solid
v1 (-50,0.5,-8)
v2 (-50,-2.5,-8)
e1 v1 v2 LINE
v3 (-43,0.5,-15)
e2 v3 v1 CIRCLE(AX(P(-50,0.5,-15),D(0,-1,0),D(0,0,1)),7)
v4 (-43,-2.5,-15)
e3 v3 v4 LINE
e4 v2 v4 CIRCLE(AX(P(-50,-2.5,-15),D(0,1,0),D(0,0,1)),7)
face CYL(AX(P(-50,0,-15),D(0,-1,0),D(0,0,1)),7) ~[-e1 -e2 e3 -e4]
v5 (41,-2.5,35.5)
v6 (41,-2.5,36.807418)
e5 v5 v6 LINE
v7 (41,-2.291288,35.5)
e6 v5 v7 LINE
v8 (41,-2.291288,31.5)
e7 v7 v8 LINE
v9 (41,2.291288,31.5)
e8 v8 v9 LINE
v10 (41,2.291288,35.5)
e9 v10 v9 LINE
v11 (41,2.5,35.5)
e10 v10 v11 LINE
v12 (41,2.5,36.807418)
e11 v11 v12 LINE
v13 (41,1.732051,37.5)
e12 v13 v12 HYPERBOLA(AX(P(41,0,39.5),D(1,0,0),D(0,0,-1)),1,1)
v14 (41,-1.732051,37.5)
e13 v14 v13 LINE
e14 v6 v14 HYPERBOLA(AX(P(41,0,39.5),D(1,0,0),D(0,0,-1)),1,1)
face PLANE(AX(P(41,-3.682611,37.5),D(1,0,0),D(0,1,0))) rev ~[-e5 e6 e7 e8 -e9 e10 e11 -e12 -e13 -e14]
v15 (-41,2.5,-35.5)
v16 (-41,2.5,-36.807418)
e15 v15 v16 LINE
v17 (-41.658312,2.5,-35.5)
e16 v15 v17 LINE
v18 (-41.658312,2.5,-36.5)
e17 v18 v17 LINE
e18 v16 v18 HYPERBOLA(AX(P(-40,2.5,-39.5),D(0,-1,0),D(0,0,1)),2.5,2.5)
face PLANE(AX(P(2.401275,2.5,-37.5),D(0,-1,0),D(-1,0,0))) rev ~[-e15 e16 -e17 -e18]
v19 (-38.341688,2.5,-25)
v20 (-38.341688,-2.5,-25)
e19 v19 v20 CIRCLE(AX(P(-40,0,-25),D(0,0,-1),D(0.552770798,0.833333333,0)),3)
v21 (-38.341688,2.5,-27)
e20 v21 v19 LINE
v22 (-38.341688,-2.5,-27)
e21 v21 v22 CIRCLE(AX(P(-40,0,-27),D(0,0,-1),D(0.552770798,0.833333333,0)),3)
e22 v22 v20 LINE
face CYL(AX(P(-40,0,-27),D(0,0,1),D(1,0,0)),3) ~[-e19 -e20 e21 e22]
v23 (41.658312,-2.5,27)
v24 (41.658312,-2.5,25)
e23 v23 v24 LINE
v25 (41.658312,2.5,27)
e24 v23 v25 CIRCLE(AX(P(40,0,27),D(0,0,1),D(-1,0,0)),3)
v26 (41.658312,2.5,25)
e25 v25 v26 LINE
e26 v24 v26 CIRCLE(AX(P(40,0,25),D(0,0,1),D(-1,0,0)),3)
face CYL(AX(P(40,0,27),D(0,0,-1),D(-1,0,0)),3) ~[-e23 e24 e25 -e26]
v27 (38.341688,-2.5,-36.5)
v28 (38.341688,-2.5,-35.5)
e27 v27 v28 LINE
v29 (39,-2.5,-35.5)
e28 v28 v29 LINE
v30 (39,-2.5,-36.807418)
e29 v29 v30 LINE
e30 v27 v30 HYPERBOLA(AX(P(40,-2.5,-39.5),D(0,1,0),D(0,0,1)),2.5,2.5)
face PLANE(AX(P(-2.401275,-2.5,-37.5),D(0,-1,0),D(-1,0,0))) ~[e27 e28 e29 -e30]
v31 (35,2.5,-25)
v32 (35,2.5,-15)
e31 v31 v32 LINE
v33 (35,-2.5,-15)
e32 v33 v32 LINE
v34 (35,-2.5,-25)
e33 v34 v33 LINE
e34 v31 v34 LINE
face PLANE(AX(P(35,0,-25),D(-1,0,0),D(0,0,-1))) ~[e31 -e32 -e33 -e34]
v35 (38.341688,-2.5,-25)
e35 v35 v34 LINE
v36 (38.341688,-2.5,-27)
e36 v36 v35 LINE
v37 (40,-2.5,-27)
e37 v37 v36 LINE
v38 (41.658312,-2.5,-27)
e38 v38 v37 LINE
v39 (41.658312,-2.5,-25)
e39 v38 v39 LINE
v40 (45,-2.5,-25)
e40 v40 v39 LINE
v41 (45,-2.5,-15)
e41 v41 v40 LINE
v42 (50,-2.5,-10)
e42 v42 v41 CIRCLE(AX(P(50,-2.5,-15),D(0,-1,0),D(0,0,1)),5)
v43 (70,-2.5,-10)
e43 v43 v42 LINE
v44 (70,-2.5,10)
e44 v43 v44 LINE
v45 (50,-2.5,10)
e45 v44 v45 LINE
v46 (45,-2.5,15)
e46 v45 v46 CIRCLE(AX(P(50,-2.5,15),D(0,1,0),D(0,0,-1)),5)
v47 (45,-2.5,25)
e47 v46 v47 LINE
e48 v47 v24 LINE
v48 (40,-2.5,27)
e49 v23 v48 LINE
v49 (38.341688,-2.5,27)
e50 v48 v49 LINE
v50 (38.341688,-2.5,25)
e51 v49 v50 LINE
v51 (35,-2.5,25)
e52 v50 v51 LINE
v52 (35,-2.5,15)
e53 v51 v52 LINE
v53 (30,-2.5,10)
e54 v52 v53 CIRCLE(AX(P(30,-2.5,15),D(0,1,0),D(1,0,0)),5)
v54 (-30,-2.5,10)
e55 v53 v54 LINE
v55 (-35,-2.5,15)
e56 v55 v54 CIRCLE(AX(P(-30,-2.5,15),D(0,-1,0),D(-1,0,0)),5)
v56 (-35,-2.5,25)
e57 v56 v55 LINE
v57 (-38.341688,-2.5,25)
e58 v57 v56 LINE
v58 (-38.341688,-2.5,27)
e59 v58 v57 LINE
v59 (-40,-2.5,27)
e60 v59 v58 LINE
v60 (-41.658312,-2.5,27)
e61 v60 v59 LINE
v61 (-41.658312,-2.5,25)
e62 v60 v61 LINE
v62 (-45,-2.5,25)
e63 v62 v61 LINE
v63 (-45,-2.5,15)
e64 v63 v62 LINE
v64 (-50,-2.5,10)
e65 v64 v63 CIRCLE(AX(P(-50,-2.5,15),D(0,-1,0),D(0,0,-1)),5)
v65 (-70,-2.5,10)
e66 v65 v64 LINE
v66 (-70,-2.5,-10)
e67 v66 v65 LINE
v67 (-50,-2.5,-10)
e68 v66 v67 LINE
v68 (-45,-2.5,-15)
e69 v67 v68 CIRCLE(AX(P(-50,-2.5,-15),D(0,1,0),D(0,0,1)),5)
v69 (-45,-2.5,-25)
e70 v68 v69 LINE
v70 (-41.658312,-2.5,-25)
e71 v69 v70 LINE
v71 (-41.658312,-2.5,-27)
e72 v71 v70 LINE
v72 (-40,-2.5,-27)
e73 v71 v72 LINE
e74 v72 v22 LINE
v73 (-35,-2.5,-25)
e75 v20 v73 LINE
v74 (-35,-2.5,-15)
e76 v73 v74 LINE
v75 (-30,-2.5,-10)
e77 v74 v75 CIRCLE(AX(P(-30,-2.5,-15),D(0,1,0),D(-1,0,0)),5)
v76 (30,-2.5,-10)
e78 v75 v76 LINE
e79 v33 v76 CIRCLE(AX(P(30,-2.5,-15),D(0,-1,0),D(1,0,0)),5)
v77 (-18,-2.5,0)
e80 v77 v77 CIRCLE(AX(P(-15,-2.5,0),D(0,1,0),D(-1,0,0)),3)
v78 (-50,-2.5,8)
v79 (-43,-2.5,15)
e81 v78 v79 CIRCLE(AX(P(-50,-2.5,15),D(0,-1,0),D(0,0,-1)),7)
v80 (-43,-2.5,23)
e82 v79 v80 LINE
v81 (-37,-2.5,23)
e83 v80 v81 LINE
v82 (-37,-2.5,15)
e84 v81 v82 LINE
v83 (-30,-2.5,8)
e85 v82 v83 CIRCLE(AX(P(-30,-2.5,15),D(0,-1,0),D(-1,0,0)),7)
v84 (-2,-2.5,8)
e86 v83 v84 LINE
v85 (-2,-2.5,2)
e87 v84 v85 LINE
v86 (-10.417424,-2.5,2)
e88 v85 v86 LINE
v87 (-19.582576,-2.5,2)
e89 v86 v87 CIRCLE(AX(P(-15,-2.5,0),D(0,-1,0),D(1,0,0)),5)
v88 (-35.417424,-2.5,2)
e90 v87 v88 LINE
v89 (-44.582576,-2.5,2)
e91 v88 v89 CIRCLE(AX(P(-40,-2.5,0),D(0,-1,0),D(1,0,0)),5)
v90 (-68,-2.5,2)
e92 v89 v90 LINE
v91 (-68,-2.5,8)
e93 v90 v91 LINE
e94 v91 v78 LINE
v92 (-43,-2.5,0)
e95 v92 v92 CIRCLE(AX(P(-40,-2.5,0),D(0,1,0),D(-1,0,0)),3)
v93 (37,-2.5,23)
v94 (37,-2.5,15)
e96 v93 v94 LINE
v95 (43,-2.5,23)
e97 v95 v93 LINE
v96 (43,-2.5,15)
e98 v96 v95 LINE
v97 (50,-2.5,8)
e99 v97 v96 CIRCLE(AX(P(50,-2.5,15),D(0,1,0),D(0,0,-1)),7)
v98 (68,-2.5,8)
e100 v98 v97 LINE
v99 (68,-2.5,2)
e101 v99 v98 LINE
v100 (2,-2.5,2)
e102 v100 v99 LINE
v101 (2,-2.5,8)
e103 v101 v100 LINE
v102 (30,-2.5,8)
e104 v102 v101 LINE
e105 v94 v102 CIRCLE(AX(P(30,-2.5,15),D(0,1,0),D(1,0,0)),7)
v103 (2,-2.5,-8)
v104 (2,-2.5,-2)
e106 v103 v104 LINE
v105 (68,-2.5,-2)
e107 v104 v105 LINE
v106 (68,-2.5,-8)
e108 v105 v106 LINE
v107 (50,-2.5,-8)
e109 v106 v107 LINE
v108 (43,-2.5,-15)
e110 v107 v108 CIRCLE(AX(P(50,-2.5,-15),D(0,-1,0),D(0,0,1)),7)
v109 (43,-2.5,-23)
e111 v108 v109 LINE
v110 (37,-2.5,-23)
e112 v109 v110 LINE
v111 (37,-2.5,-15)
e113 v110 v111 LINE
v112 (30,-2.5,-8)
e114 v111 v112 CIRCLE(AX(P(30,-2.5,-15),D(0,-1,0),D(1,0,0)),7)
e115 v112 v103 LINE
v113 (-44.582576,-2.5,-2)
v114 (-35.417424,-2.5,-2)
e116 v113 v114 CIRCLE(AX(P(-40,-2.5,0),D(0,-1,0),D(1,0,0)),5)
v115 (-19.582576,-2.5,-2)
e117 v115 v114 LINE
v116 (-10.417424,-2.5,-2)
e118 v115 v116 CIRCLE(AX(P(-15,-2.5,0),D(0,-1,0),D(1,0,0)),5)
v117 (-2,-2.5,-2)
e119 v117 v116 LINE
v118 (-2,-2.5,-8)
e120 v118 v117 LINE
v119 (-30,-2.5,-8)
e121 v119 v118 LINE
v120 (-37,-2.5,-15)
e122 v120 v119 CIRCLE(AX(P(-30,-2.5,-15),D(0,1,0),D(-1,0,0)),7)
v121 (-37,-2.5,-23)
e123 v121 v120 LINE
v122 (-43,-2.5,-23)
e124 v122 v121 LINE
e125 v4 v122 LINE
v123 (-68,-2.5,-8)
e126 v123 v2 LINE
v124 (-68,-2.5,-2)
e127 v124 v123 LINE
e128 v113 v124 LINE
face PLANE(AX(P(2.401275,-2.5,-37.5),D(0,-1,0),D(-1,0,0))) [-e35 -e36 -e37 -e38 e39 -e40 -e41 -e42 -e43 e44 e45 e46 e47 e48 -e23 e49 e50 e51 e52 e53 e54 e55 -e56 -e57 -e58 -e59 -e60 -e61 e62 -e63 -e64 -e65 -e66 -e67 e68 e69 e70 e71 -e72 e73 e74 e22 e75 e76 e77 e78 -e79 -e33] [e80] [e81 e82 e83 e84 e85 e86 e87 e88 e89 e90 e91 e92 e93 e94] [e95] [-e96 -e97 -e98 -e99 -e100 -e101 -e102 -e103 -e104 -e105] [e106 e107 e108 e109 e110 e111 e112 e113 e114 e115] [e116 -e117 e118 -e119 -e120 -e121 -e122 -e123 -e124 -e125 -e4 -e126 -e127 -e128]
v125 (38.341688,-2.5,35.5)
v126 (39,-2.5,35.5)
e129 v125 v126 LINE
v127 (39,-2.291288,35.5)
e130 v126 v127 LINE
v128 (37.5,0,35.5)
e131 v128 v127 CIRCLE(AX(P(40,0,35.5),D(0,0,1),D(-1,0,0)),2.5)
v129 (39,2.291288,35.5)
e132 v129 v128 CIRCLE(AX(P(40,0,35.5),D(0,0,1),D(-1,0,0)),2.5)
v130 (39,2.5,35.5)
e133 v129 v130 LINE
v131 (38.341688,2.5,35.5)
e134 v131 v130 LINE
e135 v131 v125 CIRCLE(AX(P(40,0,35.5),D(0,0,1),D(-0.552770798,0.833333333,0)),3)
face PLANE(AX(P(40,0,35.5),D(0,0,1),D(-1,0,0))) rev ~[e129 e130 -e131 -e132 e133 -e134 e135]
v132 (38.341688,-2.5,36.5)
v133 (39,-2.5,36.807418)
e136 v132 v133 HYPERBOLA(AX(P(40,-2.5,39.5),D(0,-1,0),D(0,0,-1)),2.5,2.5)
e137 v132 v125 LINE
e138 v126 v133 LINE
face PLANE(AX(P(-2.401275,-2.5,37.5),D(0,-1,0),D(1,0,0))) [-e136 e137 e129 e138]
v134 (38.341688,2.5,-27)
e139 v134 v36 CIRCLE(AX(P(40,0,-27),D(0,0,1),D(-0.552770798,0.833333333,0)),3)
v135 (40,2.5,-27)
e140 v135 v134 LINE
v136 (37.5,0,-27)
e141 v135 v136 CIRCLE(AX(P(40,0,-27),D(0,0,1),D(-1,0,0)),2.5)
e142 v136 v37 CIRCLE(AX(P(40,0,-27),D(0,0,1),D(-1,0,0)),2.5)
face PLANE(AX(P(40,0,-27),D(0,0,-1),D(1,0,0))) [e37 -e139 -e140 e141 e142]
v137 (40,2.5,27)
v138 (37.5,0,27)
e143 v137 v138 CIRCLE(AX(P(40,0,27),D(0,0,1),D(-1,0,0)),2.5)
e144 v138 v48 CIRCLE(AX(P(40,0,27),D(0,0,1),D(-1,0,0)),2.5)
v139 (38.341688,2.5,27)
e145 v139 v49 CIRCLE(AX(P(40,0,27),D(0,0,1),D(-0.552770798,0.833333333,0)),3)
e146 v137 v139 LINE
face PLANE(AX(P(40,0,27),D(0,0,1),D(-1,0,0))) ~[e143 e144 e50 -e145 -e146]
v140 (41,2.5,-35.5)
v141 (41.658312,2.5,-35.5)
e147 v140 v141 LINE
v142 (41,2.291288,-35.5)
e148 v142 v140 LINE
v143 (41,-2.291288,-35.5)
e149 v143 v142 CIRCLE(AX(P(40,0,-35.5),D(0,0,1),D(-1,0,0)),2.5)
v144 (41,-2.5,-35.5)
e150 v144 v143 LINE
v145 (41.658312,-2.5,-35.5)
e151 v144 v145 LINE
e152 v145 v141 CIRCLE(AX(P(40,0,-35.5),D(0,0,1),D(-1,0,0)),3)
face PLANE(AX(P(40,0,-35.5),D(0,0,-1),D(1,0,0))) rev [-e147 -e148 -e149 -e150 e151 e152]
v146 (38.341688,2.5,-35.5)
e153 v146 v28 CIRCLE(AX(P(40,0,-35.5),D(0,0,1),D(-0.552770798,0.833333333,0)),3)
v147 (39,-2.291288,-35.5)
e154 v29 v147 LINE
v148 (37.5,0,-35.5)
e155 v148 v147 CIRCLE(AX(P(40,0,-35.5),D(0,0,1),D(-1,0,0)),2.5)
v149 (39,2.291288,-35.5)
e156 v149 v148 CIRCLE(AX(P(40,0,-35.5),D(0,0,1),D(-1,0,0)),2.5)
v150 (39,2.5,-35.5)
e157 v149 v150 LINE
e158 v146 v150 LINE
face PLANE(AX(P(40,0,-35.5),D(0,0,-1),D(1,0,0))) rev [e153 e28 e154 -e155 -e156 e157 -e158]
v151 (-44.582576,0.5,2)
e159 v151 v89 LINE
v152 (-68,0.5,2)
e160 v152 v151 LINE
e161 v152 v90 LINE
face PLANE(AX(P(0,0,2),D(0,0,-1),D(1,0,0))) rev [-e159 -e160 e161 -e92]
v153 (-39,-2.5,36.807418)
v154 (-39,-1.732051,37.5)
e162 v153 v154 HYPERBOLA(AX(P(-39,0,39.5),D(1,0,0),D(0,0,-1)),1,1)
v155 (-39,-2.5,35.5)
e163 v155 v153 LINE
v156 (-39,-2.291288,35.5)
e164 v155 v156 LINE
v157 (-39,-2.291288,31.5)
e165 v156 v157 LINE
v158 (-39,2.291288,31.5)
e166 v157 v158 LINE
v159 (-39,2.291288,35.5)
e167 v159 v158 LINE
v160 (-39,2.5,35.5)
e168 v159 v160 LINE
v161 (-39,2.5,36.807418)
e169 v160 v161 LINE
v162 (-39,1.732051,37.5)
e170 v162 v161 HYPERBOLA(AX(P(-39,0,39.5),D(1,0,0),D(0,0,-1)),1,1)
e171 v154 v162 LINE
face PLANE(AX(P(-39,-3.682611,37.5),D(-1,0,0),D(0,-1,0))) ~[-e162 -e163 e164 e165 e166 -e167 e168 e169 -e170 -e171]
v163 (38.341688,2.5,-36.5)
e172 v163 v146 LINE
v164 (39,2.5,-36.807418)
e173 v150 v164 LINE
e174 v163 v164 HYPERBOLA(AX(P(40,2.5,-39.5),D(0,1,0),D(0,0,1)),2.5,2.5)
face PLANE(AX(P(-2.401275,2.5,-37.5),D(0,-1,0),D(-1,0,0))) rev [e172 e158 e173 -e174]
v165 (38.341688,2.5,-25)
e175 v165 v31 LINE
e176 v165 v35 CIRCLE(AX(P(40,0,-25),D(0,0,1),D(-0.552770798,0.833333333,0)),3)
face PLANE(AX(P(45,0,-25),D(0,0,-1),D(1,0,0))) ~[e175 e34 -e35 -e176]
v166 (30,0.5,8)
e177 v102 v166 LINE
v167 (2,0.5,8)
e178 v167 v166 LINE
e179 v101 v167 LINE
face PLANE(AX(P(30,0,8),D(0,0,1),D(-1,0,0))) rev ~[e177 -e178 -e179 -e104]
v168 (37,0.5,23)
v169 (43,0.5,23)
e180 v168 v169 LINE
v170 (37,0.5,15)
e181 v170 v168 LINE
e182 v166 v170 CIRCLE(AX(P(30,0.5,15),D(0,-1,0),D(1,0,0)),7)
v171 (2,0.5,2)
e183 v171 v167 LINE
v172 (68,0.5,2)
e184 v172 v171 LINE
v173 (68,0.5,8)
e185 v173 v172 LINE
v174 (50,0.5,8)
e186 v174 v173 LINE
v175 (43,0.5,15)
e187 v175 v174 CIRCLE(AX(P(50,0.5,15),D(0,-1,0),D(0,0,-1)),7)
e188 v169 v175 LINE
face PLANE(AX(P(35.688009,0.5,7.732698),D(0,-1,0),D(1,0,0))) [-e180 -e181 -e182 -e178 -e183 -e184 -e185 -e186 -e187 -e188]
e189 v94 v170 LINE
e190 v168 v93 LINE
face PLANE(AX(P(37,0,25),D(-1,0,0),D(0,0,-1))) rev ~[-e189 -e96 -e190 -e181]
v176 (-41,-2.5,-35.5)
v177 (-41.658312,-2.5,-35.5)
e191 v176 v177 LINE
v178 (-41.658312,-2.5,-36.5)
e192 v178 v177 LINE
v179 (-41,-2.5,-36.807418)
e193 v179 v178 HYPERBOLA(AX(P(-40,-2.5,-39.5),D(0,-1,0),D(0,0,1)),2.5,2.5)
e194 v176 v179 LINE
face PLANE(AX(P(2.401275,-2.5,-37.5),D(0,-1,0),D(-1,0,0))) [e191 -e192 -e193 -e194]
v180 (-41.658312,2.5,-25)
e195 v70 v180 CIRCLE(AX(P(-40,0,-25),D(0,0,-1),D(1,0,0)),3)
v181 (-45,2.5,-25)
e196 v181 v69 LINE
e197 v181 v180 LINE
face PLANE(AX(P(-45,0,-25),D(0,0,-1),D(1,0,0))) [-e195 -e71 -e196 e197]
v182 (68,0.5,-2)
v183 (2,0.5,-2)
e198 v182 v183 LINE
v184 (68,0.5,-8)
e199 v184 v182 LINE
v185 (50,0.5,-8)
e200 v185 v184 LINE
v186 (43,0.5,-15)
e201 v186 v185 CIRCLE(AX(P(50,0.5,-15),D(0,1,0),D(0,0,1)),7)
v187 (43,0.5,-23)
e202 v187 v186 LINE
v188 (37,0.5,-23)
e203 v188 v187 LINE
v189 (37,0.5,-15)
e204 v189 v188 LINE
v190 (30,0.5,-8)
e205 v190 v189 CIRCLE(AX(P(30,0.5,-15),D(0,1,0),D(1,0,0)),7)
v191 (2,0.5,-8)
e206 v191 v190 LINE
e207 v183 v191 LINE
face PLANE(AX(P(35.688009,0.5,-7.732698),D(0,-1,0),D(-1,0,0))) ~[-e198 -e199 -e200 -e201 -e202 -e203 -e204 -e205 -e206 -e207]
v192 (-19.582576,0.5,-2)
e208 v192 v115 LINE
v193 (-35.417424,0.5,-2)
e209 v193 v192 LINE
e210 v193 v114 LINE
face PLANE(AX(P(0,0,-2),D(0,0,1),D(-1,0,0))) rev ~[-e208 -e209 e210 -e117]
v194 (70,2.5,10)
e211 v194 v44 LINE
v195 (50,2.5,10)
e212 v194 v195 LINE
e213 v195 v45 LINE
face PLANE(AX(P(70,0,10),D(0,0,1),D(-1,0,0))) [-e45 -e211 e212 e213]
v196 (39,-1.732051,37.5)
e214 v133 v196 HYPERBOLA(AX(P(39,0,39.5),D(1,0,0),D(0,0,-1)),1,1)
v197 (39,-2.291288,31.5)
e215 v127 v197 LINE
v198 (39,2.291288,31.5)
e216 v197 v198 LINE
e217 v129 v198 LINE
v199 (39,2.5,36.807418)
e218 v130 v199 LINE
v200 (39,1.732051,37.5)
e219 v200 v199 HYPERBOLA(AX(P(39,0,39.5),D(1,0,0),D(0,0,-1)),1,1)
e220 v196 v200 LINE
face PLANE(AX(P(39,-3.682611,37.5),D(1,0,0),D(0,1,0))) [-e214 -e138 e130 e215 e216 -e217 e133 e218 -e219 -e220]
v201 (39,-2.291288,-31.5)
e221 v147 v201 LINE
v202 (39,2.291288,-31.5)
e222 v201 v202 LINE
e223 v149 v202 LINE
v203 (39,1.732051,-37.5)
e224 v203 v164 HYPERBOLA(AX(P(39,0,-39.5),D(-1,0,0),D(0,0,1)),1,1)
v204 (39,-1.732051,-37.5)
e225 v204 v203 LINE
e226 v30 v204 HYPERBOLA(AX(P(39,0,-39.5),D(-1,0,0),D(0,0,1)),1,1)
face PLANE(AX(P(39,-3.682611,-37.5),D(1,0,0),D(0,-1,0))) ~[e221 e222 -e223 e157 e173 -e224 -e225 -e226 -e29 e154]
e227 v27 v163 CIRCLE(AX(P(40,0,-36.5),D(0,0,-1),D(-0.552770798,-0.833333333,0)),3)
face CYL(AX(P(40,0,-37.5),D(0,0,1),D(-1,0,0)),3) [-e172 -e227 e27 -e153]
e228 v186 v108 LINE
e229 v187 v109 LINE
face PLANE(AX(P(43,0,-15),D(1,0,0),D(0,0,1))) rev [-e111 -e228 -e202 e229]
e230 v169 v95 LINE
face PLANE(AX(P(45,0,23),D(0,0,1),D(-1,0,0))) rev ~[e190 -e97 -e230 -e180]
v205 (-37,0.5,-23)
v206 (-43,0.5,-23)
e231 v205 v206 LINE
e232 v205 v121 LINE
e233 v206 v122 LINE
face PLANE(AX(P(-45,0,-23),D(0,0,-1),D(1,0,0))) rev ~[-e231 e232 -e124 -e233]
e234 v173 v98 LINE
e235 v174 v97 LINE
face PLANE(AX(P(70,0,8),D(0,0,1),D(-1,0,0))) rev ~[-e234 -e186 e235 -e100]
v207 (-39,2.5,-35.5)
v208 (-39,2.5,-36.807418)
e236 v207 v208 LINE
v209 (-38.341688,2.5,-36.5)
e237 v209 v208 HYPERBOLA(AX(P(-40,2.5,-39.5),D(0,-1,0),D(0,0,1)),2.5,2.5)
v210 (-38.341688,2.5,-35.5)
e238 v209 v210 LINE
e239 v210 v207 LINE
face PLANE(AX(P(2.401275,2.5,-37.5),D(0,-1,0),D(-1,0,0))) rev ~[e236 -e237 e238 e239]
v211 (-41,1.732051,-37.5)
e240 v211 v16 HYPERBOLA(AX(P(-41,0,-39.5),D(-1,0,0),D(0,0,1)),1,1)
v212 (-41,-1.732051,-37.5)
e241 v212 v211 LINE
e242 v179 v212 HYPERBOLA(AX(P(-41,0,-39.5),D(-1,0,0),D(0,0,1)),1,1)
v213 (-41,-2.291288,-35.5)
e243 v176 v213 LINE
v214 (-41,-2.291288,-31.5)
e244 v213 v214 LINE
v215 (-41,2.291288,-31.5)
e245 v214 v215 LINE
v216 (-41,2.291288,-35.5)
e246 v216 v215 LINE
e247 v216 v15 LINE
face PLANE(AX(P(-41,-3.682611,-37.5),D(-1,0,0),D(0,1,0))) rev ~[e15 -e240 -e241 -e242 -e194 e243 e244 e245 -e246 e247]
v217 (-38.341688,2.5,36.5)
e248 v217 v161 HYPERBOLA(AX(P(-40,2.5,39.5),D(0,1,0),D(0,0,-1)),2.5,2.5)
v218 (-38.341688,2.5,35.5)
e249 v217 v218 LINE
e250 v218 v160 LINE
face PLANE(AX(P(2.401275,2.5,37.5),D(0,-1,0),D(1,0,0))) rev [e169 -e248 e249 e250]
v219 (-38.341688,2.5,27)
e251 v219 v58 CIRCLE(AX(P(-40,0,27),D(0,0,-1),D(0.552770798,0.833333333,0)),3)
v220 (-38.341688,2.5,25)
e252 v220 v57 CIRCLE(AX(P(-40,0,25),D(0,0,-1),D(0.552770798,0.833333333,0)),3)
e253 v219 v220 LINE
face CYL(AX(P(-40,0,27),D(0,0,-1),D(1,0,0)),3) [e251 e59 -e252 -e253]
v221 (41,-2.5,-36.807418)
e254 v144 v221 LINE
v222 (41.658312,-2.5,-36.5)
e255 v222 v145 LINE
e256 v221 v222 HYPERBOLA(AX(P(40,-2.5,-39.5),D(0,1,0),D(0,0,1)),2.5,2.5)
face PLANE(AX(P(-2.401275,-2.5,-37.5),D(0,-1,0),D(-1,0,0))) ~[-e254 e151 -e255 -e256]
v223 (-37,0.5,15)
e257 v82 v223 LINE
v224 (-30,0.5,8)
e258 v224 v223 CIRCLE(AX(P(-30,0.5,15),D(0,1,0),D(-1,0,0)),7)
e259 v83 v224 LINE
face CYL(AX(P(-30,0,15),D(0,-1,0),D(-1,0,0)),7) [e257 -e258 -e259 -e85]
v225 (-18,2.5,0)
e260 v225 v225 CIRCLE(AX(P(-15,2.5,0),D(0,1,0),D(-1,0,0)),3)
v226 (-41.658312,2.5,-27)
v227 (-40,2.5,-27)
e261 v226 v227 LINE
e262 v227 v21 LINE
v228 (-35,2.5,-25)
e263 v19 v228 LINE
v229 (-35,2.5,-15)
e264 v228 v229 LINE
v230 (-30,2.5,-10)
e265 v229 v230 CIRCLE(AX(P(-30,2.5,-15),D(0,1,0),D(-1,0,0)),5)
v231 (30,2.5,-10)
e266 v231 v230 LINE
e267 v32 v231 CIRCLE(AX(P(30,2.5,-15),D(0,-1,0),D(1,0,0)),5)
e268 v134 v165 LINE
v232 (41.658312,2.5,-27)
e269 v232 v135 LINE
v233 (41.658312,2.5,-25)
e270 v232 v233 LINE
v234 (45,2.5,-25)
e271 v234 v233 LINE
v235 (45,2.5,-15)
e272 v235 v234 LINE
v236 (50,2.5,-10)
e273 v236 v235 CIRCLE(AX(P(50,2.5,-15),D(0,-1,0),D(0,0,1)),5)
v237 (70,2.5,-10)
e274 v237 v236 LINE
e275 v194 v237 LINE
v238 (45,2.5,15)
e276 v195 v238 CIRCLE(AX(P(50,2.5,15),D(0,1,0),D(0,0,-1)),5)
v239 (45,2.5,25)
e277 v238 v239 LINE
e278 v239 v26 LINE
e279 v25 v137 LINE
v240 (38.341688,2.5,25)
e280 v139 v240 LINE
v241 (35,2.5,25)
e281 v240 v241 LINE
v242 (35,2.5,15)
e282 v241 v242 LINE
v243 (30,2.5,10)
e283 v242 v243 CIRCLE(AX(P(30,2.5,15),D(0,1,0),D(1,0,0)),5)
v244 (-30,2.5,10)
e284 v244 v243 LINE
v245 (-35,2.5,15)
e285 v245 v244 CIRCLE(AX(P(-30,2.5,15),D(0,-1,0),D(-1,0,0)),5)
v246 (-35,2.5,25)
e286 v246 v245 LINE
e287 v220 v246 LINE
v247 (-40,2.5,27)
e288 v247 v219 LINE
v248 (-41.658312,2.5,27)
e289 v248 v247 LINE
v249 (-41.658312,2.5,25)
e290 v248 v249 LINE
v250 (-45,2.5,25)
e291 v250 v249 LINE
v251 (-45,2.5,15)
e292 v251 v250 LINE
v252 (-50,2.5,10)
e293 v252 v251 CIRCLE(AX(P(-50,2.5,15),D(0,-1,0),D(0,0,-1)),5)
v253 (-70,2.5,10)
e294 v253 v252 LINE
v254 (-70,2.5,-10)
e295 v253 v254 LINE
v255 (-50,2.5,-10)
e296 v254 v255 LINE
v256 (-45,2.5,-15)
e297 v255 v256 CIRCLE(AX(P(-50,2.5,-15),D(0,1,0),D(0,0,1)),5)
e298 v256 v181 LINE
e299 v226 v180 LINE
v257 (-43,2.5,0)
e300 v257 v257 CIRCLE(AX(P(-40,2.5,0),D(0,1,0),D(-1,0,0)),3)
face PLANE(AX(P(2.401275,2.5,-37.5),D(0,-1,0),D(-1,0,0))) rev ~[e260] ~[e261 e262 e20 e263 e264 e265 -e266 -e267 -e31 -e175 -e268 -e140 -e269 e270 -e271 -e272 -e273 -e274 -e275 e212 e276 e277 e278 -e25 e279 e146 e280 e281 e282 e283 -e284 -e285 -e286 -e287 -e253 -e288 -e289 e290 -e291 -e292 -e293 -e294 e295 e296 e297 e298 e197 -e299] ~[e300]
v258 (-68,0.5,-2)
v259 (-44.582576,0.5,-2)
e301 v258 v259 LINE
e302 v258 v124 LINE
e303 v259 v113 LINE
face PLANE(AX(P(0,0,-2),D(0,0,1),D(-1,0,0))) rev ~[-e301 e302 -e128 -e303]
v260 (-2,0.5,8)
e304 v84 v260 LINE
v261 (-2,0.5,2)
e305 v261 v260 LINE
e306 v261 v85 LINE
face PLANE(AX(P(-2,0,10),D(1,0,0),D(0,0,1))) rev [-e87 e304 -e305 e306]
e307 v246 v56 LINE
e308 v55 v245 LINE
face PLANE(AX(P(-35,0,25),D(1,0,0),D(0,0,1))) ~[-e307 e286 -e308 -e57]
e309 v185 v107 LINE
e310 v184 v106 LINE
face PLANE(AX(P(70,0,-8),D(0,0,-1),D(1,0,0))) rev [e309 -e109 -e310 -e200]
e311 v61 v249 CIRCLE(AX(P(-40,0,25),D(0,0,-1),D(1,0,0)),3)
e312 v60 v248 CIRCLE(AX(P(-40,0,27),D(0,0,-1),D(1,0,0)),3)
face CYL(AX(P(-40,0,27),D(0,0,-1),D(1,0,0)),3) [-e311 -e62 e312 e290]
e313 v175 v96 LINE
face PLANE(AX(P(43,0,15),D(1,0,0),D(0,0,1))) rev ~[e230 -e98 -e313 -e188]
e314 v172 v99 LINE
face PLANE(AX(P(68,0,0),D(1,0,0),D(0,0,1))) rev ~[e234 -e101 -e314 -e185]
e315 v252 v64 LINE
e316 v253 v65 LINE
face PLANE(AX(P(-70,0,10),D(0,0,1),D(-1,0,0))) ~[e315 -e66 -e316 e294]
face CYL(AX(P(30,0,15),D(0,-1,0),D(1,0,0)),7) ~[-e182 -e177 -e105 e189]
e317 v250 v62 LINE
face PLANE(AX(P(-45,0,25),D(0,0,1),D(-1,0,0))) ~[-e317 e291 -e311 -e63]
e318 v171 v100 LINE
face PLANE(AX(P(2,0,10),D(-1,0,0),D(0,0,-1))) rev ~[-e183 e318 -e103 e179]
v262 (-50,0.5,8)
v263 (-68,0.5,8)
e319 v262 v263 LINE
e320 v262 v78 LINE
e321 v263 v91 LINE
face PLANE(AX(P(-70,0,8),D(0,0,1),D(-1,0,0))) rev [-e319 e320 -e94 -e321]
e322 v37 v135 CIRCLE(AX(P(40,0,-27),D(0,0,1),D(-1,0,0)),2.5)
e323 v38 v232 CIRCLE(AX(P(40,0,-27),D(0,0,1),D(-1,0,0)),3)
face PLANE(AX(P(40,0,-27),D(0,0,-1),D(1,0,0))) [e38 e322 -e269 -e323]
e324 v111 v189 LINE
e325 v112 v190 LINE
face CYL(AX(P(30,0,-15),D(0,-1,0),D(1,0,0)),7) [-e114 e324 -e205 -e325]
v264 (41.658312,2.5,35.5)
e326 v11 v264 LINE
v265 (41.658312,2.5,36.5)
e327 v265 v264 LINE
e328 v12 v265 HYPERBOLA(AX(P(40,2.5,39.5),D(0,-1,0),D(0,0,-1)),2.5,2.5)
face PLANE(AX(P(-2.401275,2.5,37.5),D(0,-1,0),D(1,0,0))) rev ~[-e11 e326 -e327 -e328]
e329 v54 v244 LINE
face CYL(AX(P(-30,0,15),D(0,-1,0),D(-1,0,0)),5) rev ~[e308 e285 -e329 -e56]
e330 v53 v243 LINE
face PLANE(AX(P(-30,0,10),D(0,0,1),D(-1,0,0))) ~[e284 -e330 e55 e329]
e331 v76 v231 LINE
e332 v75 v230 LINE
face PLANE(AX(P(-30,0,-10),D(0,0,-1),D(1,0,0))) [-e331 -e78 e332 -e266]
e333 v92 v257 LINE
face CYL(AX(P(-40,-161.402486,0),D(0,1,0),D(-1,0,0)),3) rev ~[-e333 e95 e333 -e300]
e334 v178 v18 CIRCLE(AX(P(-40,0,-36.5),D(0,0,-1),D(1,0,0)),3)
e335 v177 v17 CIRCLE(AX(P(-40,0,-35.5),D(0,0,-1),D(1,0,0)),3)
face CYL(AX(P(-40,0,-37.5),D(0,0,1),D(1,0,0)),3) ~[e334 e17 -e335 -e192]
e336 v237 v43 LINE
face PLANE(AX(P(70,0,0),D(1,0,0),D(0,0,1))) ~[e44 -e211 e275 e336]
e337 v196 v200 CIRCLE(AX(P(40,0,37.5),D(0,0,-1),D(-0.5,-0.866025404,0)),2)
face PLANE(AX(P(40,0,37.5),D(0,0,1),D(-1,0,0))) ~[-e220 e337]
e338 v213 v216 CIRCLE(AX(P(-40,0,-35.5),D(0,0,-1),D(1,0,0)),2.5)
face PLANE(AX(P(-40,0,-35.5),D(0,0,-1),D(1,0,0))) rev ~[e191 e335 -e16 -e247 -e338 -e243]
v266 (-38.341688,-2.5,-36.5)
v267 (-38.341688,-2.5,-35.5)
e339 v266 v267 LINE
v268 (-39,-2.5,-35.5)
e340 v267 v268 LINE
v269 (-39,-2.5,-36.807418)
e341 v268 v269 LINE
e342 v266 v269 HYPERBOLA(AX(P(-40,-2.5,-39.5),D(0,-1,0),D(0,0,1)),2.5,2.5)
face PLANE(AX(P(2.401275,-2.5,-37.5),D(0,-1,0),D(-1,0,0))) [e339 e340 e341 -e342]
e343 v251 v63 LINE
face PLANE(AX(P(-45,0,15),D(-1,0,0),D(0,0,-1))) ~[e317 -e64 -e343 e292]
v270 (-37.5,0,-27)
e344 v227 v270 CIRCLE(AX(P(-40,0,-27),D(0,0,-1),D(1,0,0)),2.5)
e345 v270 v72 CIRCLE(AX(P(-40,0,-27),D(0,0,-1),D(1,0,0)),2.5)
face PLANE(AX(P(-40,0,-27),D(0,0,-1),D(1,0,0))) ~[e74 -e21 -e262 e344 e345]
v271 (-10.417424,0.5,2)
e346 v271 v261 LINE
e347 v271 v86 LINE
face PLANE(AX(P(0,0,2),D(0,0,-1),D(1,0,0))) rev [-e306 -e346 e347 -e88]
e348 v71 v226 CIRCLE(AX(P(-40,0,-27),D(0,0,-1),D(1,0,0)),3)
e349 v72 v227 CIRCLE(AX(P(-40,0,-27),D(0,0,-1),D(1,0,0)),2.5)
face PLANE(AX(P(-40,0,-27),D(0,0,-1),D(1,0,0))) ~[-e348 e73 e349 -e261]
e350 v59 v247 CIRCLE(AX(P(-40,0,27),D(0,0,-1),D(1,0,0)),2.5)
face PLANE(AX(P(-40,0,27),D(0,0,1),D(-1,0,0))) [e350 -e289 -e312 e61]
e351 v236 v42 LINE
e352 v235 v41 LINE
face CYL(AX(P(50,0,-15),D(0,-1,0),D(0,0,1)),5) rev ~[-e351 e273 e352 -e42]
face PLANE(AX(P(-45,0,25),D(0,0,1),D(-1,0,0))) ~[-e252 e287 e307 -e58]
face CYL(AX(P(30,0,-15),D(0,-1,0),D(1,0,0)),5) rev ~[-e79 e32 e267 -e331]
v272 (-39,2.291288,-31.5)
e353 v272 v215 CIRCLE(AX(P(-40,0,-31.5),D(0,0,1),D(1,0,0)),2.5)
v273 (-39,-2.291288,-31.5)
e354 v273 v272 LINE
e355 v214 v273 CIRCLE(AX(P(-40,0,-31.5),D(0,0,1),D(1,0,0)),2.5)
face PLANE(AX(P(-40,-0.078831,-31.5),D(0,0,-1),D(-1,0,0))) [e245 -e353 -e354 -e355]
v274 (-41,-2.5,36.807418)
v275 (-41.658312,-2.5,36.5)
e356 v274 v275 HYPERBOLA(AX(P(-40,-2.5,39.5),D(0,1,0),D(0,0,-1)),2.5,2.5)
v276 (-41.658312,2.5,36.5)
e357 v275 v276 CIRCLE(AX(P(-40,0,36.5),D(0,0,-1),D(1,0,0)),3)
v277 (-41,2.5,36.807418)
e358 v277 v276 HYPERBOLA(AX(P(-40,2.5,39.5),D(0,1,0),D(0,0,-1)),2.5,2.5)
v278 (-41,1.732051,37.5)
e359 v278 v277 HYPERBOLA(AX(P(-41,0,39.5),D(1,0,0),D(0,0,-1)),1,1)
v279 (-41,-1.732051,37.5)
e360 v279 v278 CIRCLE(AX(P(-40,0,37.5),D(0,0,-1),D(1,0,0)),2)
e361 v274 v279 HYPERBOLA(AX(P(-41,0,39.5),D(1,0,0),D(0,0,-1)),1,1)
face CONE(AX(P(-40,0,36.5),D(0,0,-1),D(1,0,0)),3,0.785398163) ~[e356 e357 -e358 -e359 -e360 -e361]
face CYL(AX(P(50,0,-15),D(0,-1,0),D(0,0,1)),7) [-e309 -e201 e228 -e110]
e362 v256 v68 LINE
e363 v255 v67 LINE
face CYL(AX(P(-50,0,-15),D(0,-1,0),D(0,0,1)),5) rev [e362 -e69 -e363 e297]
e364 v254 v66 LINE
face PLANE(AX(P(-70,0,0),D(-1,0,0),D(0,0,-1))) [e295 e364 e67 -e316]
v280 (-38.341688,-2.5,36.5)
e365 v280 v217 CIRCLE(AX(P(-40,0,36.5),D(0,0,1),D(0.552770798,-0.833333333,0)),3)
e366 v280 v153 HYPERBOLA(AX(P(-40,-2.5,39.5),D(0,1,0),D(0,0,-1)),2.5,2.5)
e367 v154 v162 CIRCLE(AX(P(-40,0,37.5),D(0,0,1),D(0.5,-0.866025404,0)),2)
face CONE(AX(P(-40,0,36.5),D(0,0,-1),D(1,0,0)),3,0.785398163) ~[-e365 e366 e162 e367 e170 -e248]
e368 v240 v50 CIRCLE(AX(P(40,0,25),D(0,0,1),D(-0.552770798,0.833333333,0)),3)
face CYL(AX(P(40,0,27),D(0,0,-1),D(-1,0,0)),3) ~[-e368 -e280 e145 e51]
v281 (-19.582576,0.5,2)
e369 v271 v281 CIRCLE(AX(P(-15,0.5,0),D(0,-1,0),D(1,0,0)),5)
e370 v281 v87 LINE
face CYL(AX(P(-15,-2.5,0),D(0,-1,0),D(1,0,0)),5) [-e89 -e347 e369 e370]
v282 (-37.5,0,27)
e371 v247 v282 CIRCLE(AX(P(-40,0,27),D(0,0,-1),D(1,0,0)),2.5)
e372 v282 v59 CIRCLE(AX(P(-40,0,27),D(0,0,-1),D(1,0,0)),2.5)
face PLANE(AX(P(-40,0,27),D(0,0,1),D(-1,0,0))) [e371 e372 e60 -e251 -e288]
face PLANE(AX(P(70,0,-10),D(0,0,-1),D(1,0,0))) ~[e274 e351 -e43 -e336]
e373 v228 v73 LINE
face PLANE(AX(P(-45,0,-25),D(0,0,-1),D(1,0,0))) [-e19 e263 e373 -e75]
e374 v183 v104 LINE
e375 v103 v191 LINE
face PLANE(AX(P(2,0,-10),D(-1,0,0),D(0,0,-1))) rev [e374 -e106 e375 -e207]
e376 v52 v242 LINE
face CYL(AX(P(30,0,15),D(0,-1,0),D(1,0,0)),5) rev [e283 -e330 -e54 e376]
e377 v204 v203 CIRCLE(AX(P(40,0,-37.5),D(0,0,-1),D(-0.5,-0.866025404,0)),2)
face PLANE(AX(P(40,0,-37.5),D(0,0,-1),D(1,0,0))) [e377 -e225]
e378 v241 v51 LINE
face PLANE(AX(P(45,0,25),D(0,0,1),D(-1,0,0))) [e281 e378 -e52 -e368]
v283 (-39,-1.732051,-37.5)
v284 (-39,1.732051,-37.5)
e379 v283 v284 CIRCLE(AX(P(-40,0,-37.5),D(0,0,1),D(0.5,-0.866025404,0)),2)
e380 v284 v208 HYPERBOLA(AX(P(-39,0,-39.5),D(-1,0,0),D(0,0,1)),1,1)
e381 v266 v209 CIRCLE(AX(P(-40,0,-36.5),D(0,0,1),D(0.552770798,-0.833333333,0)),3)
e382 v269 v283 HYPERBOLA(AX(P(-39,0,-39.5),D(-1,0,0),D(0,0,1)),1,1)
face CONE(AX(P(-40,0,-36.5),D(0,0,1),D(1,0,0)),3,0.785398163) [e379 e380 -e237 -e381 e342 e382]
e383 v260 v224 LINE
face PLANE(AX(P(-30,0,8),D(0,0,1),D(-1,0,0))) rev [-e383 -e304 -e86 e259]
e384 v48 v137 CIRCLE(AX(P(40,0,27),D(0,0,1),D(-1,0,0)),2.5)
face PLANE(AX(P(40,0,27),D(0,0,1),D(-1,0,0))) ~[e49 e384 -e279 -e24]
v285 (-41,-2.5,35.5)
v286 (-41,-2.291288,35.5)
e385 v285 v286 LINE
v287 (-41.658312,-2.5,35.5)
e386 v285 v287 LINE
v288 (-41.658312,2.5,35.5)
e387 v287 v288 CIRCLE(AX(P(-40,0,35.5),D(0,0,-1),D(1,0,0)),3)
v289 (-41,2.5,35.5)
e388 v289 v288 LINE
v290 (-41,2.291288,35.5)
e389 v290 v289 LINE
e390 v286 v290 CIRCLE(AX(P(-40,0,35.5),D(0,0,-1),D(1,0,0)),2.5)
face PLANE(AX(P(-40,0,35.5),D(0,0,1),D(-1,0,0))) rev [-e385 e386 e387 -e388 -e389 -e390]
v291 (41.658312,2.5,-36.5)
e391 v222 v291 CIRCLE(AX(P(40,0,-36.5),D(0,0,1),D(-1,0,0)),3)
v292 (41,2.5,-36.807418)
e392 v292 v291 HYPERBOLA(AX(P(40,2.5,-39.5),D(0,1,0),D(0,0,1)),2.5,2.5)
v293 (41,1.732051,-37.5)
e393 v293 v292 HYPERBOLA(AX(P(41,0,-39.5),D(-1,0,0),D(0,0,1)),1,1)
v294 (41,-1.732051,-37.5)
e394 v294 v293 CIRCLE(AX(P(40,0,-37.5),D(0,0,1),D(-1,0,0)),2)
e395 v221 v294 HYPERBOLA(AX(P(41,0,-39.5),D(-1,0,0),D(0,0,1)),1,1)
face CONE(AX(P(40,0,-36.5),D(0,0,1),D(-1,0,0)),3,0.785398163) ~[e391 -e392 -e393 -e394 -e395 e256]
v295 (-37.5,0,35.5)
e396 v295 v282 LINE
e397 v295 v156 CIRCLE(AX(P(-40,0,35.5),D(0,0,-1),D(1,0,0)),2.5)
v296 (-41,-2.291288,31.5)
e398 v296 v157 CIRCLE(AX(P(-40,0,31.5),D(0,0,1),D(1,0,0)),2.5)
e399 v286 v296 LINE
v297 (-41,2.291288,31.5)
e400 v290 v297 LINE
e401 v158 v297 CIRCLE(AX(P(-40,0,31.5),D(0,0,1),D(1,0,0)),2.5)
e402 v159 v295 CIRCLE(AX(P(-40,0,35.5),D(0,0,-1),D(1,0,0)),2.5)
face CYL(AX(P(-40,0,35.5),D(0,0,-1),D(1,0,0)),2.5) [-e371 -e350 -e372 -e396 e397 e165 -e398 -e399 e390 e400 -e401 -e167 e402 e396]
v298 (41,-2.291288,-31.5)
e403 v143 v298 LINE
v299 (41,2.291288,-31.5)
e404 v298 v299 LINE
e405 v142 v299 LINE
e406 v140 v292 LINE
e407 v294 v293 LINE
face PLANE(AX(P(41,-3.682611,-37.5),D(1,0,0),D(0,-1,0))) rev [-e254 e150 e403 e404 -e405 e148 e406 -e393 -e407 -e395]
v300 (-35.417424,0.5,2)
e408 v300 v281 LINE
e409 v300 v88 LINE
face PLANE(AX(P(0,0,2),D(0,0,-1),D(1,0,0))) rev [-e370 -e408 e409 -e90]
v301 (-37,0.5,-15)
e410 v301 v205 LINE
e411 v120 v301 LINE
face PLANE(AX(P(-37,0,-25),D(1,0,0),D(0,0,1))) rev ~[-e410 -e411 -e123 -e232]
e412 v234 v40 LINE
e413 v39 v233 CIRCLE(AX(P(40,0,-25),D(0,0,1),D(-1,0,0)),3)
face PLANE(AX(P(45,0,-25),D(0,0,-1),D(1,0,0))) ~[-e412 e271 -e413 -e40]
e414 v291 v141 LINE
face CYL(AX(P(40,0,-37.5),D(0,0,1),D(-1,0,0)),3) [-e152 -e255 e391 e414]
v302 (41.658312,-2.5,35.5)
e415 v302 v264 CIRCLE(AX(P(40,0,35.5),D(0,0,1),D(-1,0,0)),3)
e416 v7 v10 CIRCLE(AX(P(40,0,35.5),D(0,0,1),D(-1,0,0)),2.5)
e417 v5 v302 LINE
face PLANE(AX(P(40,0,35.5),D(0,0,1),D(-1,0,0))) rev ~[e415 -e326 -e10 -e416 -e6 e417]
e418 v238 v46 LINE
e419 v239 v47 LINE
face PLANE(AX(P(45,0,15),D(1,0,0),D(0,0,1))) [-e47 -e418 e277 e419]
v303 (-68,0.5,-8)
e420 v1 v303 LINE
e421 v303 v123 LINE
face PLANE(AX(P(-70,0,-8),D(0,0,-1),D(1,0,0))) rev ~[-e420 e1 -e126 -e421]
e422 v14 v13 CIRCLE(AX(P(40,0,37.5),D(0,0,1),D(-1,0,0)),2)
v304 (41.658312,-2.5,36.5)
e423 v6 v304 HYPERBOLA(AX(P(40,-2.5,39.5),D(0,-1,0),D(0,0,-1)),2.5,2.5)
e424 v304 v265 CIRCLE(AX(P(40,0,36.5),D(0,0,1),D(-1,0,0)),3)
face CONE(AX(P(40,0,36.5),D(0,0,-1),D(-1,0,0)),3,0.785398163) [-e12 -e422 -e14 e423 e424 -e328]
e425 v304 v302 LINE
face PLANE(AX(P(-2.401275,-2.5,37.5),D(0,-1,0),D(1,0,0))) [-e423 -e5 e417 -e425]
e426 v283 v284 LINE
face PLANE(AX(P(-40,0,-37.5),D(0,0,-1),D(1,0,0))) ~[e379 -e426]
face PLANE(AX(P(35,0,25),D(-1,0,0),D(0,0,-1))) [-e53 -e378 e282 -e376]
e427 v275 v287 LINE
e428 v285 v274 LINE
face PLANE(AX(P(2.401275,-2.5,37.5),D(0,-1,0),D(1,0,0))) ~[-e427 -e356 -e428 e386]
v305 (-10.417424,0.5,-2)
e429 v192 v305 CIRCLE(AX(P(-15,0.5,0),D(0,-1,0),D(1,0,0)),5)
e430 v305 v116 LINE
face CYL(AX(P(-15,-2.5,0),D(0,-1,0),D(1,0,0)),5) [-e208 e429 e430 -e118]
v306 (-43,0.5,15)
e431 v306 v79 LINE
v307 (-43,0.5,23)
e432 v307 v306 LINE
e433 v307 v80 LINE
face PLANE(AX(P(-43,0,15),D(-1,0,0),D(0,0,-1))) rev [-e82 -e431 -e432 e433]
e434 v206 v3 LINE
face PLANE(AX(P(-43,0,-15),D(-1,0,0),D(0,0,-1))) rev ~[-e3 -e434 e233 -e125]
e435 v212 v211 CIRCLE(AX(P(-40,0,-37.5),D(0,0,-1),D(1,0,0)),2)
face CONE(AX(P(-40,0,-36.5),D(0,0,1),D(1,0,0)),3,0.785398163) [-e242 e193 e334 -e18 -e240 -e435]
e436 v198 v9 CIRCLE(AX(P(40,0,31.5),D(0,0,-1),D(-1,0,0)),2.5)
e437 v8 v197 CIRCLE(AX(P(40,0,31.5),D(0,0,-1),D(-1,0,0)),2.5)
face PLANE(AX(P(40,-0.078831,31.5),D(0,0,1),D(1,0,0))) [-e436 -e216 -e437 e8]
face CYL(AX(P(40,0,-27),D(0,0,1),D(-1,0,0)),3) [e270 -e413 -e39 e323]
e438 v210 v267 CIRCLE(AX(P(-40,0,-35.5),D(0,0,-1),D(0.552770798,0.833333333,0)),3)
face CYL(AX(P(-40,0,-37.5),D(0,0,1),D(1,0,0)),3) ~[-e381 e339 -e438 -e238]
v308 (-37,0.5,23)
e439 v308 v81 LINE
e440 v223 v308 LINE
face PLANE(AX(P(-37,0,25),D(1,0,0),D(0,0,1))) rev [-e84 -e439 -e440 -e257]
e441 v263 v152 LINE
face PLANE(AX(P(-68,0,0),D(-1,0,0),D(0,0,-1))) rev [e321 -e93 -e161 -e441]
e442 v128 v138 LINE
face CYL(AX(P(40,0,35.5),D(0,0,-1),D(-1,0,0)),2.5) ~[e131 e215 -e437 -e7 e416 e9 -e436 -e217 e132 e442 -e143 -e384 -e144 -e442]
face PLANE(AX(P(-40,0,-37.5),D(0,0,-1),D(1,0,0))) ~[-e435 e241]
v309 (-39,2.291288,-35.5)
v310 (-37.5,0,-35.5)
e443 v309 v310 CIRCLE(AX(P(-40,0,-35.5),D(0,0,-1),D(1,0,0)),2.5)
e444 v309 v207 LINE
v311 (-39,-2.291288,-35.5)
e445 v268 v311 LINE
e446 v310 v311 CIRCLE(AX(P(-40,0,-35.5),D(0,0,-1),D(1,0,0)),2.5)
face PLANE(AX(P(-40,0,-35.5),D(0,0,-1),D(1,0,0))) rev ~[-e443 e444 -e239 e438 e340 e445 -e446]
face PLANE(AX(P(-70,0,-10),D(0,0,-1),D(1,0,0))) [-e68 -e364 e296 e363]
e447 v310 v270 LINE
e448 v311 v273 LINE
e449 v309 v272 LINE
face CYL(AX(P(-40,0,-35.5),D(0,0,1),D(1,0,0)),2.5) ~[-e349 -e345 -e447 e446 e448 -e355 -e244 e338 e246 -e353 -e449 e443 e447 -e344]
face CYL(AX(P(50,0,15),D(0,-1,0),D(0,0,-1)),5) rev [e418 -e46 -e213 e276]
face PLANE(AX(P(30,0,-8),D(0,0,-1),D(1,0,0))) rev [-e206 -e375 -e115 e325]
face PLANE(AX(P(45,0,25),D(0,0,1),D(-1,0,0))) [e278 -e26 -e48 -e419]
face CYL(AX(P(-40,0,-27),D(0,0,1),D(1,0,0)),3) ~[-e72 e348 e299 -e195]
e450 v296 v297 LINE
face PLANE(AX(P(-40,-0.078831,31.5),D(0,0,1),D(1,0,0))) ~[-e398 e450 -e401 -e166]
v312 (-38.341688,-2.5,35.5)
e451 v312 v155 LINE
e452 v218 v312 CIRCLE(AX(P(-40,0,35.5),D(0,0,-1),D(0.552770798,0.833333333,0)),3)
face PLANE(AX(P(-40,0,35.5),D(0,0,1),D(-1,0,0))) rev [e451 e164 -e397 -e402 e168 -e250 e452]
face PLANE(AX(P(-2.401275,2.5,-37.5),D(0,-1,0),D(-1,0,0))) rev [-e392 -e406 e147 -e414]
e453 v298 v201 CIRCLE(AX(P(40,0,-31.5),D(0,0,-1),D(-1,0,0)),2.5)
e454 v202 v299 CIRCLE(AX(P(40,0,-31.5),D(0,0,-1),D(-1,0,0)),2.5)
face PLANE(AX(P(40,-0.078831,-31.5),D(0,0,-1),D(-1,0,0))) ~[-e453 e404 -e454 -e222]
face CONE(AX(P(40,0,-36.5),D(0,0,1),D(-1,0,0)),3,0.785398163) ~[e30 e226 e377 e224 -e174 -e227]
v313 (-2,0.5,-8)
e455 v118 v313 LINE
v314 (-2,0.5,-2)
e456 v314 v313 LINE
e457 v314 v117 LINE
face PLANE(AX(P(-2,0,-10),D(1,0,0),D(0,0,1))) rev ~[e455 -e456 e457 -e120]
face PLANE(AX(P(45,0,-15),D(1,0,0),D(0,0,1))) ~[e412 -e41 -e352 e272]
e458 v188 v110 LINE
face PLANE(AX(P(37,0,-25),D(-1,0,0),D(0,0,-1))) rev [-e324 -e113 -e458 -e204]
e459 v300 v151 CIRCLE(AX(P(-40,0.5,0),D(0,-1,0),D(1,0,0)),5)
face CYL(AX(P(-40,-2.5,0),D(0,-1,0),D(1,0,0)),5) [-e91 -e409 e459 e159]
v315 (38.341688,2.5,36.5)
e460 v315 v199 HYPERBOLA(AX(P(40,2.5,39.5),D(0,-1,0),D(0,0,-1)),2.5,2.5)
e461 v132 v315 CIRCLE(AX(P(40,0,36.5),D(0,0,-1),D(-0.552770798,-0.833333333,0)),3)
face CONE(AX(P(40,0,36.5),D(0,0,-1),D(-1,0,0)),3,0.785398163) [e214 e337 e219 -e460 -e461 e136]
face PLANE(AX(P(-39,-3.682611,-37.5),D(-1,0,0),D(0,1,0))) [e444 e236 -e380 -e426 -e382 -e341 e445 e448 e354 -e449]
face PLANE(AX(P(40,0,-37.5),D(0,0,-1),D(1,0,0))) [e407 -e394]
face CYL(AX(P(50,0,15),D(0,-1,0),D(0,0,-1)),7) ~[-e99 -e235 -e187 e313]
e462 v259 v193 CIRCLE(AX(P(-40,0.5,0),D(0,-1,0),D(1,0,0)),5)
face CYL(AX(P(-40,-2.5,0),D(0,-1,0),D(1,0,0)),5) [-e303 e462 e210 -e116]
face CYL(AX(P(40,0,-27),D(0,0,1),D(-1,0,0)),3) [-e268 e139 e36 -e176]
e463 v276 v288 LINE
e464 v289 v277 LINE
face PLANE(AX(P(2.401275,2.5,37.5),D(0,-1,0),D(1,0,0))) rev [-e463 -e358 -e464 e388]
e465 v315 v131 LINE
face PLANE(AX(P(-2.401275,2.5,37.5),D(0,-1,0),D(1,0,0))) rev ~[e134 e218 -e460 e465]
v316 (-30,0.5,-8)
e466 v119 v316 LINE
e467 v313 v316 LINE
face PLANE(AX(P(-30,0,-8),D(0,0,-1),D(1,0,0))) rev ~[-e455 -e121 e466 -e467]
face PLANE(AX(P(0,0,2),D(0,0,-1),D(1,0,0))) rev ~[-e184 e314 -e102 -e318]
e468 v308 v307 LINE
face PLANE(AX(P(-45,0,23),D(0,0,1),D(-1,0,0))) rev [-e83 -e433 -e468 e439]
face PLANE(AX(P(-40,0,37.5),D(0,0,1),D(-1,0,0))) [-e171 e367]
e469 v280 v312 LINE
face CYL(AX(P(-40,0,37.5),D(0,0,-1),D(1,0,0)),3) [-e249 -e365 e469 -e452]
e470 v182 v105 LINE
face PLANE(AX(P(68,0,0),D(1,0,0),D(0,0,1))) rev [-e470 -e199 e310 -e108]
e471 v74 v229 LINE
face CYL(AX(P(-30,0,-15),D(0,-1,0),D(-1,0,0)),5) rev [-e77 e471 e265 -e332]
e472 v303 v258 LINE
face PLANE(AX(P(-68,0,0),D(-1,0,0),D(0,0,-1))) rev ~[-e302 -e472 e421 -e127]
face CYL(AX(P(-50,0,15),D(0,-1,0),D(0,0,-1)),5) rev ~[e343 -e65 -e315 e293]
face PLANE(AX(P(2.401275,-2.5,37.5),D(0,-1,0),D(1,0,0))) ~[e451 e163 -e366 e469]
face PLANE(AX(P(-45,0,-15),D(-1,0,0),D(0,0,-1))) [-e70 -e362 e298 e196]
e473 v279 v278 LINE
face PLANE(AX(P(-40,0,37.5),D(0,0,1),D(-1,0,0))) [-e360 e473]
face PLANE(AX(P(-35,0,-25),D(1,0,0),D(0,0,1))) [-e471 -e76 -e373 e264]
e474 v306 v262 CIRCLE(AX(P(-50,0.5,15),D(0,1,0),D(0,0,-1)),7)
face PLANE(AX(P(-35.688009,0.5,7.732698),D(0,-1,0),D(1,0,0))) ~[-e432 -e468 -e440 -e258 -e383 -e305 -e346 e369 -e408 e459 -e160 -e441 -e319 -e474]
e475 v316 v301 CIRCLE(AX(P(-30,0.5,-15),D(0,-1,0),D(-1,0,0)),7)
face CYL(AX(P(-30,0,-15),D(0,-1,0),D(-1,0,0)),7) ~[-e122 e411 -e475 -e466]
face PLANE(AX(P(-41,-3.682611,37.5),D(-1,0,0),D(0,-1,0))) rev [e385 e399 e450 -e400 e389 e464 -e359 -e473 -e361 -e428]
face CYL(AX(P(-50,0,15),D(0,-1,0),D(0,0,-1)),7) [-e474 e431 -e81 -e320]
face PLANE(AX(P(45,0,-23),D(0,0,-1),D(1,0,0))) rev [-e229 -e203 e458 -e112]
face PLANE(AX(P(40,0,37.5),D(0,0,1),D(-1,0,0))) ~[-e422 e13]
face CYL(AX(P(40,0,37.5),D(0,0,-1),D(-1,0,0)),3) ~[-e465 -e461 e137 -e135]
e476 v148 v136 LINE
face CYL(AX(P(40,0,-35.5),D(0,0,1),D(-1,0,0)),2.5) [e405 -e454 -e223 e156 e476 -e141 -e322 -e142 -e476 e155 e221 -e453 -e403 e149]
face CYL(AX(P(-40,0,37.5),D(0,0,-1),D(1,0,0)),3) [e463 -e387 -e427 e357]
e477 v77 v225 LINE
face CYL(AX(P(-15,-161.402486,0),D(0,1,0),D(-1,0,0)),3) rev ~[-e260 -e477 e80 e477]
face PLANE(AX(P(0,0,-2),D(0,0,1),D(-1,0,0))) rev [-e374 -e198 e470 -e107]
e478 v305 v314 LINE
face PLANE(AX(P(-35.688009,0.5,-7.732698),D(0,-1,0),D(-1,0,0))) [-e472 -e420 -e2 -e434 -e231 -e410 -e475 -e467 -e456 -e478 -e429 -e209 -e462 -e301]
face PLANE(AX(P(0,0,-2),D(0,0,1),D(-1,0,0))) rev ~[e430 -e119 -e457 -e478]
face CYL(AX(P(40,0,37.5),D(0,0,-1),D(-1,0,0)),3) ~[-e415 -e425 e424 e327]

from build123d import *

# Parameters (mm, degrees)
F1_DEPTH  = 2.5
F2_T      = -2
F5_SIZE   = 1
F6_W      = 75
F6_H      = 5
F7_DEPTH  = 37.501
F8_W      = 2
F8_H      = 7.2075595917
F9_DEPTH  = 6
F12_R     = 5
F13_DEPTH = 5
F15_D     = 6


with BuildPart() as f1:
    # F0 (on Front) → F1 (new body, symmetric)
    with BuildSketch(Plane.XZ):
        with BuildLine():
            Line((0, 10), (0, 0))
            Line((0, 0), (70, 0))
            Line((70, 0), (70, 10))
            Line((70, 10), (50, 10))
            ThreePointArc((50, 10), (46.4644660941, 11.4644660941), (45, 15))
            Line((45, 15), (45, 25))
            Line((45, 25), (35, 25))
            Line((35, 25), (35, 15))
            ThreePointArc((35, 15), (33.5355339059, 11.4644660941), (30, 10))
            Line((30, 10), (0, 10))
        make_face()
    extrude(amount=F1_DEPTH, both=True)

    # F2
    f2_openings = [f1.faces().sort_by_distance(p)[0] for p in [
        (35.933685, -2.5, 7.254637),
    ]]
    offset(amount=F2_T, openings=f2_openings)

    # F3 (on Front) → F4 (revolve)
    with BuildSketch(Plane.XZ):
        Polygon((37, 25), (40, 25), (40, 37.5), (37, 37.5), (37, 35.5), (37.5, 35.5), (37.5, 27), (37, 27), align=None)
    revolve(axis=Axis((40, 0, 31.25), (0, 0, 1)))

    # F5
    f5_edges = [f1.edges().sort_by_distance(p)[0] for p in [
        (43, 0, 37.5),
    ]]
    chamfer(f5_edges, length=F5_SIZE)

    # F6 (on face) → F7 (intersect, through all)
    with BuildSketch(Plane.XY.offset(37.5)):
        with Locations((35.0987253711, 0)):
            Rectangle(F6_W, F6_H)
    extrude(amount=-F7_DEPTH, mode=Mode.INTERSECT)

    # F8 (on face) → F9 (cut)
    with BuildSketch(Plane.XY.offset(37.5)):
        with Locations((40, -0.078830868)):
            Rectangle(F8_W, F8_H)
    extrude(amount=-F9_DEPTH, mode=Mode.SUBTRACT)

    # F10: F1 across face


with BuildPart() as f1_1:
    add(f1.part)
    add(f1.part.mirror(Plane(origin=(35, 0, 0), x_dir=(1, 0, 0), z_dir=(0, 0, -1))))

    # F11: F1 across face


with BuildPart() as f1_2:
    add(f1_1.part)
    add(f1_1.part.mirror(Plane(origin=(0, 0, 0), x_dir=(0, -1, 0), z_dir=(-1, 0, 0))))

    # F12 (on face) → F13 (join, through all)
    with BuildSketch(Plane.XZ.offset(2.5)):
        with Locations((-40, 0)):
            Circle(F12_R)
        with Locations((-15, 0)):
            Circle(F12_R)
    extrude(amount=-F13_DEPTH)

    # F15 (through all)
    with Locations(Plane.XZ.offset(2.5)):
        with Locations((-40, 0), (-15, 0)):
            Hole(F15_D / 2)


solid = f1_2.part
